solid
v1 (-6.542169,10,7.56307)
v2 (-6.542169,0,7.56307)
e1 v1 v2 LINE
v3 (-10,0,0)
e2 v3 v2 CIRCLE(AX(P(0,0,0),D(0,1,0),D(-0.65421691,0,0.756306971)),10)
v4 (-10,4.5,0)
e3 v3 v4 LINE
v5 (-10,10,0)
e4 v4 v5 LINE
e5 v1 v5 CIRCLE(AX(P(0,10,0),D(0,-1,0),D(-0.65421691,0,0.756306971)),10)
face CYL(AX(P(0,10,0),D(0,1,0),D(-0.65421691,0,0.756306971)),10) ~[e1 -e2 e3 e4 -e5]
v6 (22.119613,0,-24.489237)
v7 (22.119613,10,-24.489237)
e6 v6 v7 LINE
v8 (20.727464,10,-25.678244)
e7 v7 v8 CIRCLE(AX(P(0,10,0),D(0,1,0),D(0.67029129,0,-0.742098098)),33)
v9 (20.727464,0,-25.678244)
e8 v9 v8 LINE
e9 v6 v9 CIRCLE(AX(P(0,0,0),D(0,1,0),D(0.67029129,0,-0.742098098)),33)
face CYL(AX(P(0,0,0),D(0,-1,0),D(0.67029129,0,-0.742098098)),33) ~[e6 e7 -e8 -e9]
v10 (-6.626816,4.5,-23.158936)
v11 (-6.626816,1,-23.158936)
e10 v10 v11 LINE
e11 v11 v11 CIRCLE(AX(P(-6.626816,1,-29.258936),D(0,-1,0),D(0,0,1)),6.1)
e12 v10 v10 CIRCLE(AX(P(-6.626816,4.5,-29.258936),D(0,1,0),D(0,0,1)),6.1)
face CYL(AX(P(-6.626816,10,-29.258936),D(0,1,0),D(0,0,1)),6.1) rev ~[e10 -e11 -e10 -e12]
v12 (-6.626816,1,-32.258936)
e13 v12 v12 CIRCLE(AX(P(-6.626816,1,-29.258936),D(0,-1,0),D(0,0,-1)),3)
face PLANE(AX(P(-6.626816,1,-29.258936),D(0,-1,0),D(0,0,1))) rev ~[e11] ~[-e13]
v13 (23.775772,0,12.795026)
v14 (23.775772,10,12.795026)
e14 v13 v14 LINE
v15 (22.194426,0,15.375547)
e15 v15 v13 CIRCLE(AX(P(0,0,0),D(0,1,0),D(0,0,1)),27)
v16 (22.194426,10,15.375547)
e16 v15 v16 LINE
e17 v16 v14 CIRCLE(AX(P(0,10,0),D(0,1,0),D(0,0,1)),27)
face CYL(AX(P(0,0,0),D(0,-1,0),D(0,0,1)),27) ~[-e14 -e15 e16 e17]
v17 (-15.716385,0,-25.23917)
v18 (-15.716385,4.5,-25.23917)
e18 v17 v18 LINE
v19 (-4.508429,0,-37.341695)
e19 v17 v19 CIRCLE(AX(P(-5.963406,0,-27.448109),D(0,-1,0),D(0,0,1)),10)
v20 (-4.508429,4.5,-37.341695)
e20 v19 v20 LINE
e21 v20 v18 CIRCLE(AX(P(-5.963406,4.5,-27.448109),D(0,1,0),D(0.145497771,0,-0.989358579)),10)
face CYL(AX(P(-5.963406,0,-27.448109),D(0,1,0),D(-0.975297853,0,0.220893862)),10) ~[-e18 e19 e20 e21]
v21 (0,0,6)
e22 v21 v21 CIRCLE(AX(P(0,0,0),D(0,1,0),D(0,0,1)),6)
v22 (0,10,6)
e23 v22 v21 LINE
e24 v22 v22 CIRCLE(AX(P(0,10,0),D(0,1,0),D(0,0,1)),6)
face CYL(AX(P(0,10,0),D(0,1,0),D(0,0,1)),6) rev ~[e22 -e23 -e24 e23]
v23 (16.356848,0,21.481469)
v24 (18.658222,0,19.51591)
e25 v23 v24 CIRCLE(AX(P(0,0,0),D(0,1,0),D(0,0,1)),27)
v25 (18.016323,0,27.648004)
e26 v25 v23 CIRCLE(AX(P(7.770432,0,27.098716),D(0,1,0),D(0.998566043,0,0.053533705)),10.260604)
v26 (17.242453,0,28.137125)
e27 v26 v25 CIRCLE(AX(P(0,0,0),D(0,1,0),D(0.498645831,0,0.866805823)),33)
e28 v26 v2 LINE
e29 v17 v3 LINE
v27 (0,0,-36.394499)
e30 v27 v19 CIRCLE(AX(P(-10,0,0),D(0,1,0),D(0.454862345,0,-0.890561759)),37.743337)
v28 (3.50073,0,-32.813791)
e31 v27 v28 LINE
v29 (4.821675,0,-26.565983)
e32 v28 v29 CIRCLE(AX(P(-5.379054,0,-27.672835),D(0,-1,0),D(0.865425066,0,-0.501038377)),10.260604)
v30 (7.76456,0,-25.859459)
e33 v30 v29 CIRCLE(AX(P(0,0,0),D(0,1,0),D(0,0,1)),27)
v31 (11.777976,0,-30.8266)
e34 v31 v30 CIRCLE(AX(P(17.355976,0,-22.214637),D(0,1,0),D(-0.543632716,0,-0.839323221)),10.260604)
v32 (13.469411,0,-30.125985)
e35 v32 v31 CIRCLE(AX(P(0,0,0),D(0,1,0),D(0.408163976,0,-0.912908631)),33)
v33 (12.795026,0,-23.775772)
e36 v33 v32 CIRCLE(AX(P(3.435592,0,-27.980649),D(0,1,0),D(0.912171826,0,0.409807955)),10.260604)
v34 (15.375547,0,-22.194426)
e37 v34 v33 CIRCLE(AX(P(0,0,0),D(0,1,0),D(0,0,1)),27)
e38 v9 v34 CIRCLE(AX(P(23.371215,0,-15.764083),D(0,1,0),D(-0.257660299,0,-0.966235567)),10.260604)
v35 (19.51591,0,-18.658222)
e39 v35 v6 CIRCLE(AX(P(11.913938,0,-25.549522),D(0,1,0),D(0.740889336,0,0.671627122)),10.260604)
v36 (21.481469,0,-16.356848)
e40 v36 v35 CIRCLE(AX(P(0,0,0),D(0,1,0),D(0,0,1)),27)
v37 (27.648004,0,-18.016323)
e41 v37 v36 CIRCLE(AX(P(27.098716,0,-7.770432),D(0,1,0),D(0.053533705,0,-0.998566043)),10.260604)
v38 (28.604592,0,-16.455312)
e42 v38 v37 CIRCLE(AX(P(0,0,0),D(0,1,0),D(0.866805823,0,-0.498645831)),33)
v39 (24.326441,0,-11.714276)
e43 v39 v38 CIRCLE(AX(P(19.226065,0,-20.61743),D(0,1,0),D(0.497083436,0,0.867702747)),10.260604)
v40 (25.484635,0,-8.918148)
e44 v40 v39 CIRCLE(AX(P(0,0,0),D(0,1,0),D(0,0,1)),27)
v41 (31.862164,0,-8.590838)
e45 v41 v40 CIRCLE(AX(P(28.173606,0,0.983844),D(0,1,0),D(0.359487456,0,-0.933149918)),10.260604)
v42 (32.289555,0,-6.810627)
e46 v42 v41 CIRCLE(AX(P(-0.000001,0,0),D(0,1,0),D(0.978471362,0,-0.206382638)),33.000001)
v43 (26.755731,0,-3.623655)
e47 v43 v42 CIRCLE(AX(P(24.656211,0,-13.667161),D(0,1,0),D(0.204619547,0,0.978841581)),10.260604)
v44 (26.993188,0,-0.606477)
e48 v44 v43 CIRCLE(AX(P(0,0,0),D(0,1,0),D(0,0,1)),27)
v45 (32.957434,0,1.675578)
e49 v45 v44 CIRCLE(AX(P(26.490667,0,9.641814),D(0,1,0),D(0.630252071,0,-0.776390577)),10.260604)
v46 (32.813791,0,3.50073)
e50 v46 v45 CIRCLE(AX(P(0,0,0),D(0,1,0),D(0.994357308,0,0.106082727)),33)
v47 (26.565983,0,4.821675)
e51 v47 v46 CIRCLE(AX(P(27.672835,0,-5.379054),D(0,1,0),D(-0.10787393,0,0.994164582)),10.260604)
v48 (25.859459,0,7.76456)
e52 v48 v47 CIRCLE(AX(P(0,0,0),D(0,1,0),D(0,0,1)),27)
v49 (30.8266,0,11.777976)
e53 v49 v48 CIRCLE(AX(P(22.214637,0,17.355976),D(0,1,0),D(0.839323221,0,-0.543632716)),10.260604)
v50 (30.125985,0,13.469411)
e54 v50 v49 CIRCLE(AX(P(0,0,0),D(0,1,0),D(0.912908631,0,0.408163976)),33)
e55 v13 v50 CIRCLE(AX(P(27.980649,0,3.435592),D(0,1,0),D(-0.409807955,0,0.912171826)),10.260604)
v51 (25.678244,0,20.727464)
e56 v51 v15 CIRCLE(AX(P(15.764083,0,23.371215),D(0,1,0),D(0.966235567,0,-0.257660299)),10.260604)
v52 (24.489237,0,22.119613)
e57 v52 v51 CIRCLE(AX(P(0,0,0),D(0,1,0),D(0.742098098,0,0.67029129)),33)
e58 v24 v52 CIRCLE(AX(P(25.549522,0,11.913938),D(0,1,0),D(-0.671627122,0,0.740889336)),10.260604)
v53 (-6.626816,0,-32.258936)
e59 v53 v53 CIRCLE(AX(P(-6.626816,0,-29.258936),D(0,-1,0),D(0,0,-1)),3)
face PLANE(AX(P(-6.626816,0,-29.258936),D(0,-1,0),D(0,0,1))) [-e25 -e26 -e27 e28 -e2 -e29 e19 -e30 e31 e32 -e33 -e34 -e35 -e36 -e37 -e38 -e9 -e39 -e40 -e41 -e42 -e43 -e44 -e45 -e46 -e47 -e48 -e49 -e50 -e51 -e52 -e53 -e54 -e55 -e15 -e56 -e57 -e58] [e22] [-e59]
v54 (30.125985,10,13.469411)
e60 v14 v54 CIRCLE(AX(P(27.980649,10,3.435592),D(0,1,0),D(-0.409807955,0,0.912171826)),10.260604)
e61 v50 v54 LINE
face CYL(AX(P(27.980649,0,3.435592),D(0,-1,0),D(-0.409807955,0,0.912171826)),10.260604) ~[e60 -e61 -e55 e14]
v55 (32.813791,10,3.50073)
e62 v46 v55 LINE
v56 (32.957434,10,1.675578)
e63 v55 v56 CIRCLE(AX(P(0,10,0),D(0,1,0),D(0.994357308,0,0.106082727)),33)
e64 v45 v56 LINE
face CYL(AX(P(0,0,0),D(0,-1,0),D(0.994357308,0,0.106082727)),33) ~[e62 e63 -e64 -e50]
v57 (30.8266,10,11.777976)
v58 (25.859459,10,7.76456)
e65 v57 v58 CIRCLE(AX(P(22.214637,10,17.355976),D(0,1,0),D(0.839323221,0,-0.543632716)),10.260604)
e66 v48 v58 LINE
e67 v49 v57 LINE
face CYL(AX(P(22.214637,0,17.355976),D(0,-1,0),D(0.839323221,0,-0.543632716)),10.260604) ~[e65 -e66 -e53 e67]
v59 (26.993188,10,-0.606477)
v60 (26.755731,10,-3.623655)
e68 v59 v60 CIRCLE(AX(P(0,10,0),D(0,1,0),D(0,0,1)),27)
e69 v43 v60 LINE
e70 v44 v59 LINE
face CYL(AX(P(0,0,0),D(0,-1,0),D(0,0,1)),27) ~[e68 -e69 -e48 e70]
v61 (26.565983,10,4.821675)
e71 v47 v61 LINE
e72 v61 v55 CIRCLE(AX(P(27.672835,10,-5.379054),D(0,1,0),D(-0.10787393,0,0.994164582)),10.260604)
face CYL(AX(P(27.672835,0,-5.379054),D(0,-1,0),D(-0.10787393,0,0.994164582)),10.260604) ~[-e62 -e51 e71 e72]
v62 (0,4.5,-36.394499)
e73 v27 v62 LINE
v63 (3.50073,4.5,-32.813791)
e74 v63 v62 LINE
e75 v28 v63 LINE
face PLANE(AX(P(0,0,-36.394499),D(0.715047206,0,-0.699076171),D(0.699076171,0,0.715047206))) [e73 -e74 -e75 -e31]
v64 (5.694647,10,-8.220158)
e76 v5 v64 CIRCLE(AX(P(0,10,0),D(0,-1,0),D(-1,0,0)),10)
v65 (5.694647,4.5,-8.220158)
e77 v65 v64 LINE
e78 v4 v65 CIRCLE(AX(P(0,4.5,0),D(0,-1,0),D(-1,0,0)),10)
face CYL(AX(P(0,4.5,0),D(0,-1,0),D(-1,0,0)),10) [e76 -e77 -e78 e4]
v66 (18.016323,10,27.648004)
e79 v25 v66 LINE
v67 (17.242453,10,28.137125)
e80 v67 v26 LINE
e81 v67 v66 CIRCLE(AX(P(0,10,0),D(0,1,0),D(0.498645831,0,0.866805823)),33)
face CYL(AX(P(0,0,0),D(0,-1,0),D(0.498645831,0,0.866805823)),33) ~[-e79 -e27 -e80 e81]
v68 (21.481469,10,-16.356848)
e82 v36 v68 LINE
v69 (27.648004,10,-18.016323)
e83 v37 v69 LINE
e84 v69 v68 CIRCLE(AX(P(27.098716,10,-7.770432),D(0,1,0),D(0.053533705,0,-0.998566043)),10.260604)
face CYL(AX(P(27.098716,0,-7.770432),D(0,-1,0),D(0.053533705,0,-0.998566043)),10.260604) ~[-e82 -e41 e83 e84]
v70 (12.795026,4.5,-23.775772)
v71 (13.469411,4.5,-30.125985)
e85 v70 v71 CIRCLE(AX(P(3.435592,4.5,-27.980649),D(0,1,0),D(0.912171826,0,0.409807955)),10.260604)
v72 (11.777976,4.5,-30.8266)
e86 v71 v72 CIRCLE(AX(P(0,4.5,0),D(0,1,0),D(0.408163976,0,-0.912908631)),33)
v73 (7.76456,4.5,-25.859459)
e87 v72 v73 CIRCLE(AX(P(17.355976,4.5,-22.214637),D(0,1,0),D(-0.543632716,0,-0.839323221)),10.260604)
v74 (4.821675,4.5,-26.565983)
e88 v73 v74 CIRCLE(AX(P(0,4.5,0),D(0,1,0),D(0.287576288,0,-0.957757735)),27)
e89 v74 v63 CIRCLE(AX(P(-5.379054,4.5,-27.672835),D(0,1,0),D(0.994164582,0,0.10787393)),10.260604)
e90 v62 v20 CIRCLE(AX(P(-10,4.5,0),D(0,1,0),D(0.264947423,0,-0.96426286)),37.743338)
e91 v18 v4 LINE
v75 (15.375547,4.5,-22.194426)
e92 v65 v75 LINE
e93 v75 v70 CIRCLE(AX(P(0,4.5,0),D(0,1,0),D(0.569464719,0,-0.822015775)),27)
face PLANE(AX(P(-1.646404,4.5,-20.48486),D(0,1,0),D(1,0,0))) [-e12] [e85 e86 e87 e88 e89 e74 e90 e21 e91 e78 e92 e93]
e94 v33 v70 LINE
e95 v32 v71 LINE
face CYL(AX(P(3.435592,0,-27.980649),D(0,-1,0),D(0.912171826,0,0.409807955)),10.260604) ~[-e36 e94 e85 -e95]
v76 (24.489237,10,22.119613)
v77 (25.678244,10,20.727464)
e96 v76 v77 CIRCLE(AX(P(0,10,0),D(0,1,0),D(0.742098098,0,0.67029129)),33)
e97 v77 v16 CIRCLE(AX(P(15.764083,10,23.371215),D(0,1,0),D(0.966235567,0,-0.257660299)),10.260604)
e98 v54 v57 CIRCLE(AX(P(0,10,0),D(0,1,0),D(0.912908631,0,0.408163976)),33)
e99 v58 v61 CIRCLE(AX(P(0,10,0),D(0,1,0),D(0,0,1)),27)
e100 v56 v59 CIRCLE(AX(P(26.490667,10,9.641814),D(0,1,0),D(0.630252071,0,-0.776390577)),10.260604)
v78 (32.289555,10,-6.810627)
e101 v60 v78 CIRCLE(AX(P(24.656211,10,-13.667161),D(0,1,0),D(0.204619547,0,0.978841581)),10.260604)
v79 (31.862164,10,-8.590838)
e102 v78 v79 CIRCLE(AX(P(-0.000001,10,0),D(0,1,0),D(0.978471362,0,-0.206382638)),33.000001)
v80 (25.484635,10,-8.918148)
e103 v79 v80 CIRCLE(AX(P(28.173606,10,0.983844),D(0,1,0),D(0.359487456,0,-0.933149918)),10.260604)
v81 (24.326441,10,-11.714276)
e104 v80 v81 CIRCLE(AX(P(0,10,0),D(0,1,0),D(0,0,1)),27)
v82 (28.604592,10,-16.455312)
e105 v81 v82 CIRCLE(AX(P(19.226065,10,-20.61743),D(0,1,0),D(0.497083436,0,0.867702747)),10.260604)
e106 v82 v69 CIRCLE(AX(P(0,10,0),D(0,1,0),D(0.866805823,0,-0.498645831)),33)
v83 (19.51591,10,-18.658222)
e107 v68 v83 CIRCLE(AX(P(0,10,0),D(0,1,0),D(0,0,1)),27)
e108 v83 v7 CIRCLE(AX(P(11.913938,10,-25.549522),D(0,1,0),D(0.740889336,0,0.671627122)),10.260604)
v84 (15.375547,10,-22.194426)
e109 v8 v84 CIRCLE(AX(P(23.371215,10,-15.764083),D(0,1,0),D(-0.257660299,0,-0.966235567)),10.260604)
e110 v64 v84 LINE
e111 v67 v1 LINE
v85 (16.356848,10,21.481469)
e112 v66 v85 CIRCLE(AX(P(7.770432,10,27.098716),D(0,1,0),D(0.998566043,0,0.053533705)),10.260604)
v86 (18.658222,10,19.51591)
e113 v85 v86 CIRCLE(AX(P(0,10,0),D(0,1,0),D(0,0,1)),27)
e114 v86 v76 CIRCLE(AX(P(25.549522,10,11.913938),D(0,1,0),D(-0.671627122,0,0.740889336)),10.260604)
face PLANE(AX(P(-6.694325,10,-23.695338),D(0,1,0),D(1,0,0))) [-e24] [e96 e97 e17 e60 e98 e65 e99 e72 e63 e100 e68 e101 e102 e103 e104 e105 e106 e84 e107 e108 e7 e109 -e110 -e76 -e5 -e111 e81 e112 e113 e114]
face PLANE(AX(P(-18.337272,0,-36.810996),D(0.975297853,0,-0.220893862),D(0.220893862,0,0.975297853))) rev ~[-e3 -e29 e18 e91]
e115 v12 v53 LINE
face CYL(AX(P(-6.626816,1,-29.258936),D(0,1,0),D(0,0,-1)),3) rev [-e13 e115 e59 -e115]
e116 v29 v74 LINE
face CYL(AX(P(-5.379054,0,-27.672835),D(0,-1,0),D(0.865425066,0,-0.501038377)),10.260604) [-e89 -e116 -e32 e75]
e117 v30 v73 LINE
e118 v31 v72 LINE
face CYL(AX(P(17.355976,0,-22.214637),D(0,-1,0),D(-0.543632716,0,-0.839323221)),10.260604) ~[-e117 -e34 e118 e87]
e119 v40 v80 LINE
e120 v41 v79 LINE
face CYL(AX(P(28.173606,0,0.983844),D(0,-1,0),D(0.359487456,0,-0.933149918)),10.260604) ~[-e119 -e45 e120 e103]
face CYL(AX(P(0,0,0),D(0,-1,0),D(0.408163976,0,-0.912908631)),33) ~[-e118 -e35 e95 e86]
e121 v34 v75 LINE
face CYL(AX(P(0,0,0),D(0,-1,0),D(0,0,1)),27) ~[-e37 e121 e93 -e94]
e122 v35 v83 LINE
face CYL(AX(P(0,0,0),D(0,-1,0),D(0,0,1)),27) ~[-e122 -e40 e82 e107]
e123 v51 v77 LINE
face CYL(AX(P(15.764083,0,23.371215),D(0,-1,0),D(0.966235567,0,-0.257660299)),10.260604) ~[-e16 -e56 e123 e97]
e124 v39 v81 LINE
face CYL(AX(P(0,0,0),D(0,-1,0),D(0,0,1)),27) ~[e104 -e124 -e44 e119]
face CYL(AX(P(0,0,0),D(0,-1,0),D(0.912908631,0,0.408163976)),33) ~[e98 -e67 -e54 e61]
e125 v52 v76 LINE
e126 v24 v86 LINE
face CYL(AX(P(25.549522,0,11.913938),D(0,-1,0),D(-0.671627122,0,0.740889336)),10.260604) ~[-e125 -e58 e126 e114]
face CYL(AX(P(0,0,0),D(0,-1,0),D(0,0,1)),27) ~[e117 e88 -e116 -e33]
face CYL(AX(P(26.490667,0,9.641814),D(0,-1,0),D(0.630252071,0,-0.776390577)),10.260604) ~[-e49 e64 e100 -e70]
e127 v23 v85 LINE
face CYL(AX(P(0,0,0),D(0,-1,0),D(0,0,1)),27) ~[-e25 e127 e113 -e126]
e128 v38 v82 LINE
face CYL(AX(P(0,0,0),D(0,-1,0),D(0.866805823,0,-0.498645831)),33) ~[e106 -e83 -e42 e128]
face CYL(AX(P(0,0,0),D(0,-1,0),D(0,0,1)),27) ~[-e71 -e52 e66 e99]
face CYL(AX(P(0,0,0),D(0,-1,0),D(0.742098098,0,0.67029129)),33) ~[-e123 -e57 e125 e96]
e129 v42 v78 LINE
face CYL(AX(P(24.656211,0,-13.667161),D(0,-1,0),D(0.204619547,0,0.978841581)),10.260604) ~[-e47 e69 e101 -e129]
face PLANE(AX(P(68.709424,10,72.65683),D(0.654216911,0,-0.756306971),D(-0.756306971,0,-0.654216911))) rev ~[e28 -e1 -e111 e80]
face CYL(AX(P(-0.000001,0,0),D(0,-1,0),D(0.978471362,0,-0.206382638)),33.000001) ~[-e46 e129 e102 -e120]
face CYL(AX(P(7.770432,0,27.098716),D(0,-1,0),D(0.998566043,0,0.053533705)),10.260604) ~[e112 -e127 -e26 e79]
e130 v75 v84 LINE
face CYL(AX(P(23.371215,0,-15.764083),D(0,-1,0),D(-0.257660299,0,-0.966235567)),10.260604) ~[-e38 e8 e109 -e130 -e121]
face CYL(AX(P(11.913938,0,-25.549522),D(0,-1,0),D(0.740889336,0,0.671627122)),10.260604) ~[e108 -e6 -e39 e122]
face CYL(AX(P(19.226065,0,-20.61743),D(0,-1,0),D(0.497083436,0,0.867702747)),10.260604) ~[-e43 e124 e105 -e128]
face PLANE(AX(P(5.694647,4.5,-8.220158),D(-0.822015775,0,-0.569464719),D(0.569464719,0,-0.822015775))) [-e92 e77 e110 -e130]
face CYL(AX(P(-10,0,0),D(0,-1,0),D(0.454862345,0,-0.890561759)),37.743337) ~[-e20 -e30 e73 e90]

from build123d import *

# Parameters (mm, degrees)
SKETCH_1_R          = 27
EXTRUDE_2_DEPTH     = 10
EXTRUDE_START       = -10
EXTRUDE_3_DEPTH     = 10
CUT_EXTRUDE_2_DEPTH = 48.669538272
SKETCH_6_R          = 6
CUT_EXTRUDE_3_DEPTH = 10
EXTRUDE_5_DEPTH     = 10
SKETCH_10_R         = 6.1
CUT_EXTRUDE_5_DEPTH = 10
CUT_EXTRUDE_START   = -10
CUT_EXTRUDE_6_DEPTH = 10
FILLET_1_R          = 10
CUT_EXTRUDE_START_2 = -5.5
SKETCH_14_R         = 6.1
CUT_EXTRUDE_7_DEPTH = 5.5
EXTRUDE_START_2     = -1
SKETCH_15_R         = 6.1
SKETCH_15_R_2       = 3
EXTRUDE_6_DEPTH     = 1


with BuildPart() as part:
    # 草图1 → 凸台-拉伸2 (new body)
    with BuildSketch(Plane(origin=(0, 0, 0), x_dir=(1, 0, 0), z_dir=(0, 1, 0))):
        with Locations(Location((0, 0, 0), (0, 0, 270))):
            Circle(SKETCH_1_R)
    extrude(amount=EXTRUDE_2_DEPTH)

    # 草图3 → 凸台-拉伸3 (add)
    with BuildSketch(Plane(origin=(0, 10, 0), x_dir=(1, 0, 0), z_dir=(0, 1, 0)).offset(EXTRUDE_START)):
        with BuildLine():
            ThreePointArc((-3.623654542, 26.755730746), (-4.775668185, 29.776890365), (-6.810627033, 32.289554959))
            ThreePointArc((-6.810627033, 32.289554959), (-7.703697007, 32.088207373), (-8.590838072, 31.862164101))
            ThreePointArc((-8.590838072, 31.862164101), (-9.263273827, 28.699511571), (-8.918147734, 25.484635391))
            ThreePointArc((-8.918147734, 25.484635391), (-6.303024824, 26.253987851), (-3.623654542, 26.755730746))
        make_face()
        with BuildLine():
            ThreePointArc((-11.714275763, 24.326441239), (-13.743495509, 26.843742988), (-16.455312443, 28.604592156))
            ThreePointArc((-16.455312443, 28.604592156), (-17.242452636, 28.137125424), (-18.016322714, 27.648003832))
            ThreePointArc((-18.016322714, 27.648003832), (-17.678533741, 24.432348458), (-16.356847947, 21.481469346))
            ThreePointArc((-16.356847947, 21.481469346), (-14.107461247, 23.021284438), (-11.714275763, 24.326441239))
        make_face()
        with BuildLine():
            ThreePointArc((-18.658222053, 19.515910171), (-21.366013737, 21.282943016), (-24.48923722, 22.119612574))
            ThreePointArc((-24.48923722, 22.119612574), (-25.093396865, 21.431785595), (-25.678244161, 20.727464312))
            ThreePointArc((-25.678244161, 20.727464312), (-24.363295599, 17.773576848), (-22.194425918, 15.375547411))
            ThreePointArc((-22.194425918, 15.375547411), (-20.530961071, 17.535097305), (-18.658222053, 19.515910171))
        make_face()
        with BuildLine():
            ThreePointArc((-23.77577157, 12.79502584), (-26.897077674, 13.638820294), (-30.125984831, 13.469411196))
            ThreePointArc((-30.125984831, 13.469411196), (-30.488024573, 12.628553268), (-30.826600159, 11.777976169))
            ThreePointArc((-30.826600159, 11.777976169), (-28.663208335, 9.3750037), (-25.859458842, 7.764559768))
            ThreePointArc((-25.859458842, 7.764559768), (-24.944747378, 10.332452674), (-23.77577157, 12.79502584))
        make_face()
        with BuildLine():
            ThreePointArc((-26.56598291, 4.821675232), (-29.795268245, 4.659634815), (-32.813791147, 3.500730003))
            ThreePointArc((-32.813791147, 3.500730003), (-32.898272013, 2.589150159), (-32.957433752, 1.675577656))
            ThreePointArc((-32.957433752, 1.675577656), (-30.15736653, 0.05873987), (-26.993187762, -0.606477084))
            ThreePointArc((-26.993187762, -0.606477084), (-26.916768011, 2.118395585), (-26.56598291, 4.821675232))
        make_face()
        with BuildLine():
            ThreePointArc((-32.289554959, -6.810627033), (-32.088207373, -7.703697007), (-31.862164101, -8.590838072))
            ThreePointArc((-31.862164101, -8.590838072), (-28.699511571, -9.263273827), (-25.484635391, -8.918147734))
            ThreePointArc((-25.484635391, -8.918147734), (-26.253987851, -6.303024824), (-26.755730746, -3.623654542))
            ThreePointArc((-26.755730746, -3.623654542), (-29.776890365, -4.775668185), (-32.289554959, -6.810627033))
        make_face()
        with BuildLine():
            ThreePointArc((-28.604592156, -16.455312443), (-28.137125424, -17.242452636), (-27.648003832, -18.016322714))
            ThreePointArc((-27.648003832, -18.016322714), (-24.432348458, -17.678533741), (-21.481469346, -16.356847947))
            ThreePointArc((-21.481469346, -16.356847947), (-23.021284438, -14.107461247), (-24.326441239, -11.714275763))
            ThreePointArc((-24.326441239, -11.714275763), (-26.843742988, -13.743495509), (-28.604592156, -16.455312443))
        make_face()
        with BuildLine():
            ThreePointArc((-22.119612574, -24.48923722), (-21.431785595, -25.093396865), (-20.727464312, -25.678244161))
            ThreePointArc((-20.727464312, -25.678244161), (-17.773576848, -24.363295599), (-15.375547411, -22.194425918))
            ThreePointArc((-15.375547411, -22.194425918), (-17.535097305, -20.530961071), (-19.515910171, -18.658222053))
            ThreePointArc((-19.515910171, -18.658222053), (-21.282943016, -21.366013737), (-22.119612574, -24.48923722))
        make_face()
        with BuildLine():
            ThreePointArc((-13.469411196, -30.125984831), (-12.628553268, -30.488024573), (-11.777976169, -30.826600159))
            ThreePointArc((-11.777976169, -30.826600159), (-9.3750037, -28.663208335), (-7.764559768, -25.859458842))
            ThreePointArc((-7.764559768, -25.859458842), (-10.332452674, -24.944747378), (-12.79502584, -23.77577157))
            ThreePointArc((-12.79502584, -23.77577157), (-13.638820294, -26.897077674), (-13.469411196, -30.125984831))
        make_face()
        with BuildLine():
            ThreePointArc((-3.500730003, -32.813791147), (-2.589150159, -32.898272013), (-1.675577656, -32.957433752))
            ThreePointArc((-1.675577656, -32.957433752), (-0.05873987, -30.15736653), (0.606477084, -26.993187762))
            ThreePointArc((0.606477084, -26.993187762), (-2.118395585, -26.916768011), (-4.821675232, -26.56598291))
            ThreePointArc((-4.821675232, -26.56598291), (-4.659634815, -29.795268245), (-3.500730003, -32.813791147))
        make_face()
        with BuildLine():
            ThreePointArc((6.810627033, -32.289554959), (7.703697007, -32.088207373), (8.590838072, -31.862164101))
            ThreePointArc((8.590838072, -31.862164101), (9.263273827, -28.699511571), (8.918147734, -25.484635391))
            ThreePointArc((8.918147734, -25.484635391), (6.303024824, -26.253987851), (3.623654542, -26.755730746))
            ThreePointArc((3.623654542, -26.755730746), (4.775668185, -29.776890365), (6.810627033, -32.289554959))
        make_face()
        with BuildLine():
            ThreePointArc((16.455312443, -28.604592156), (17.242452636, -28.137125424), (18.016322714, -27.648003832))
            ThreePointArc((18.016322714, -27.648003832), (17.678533741, -24.432348458), (16.356847947, -21.481469346))
            ThreePointArc((16.356847947, -21.481469346), (14.107461247, -23.021284438), (11.714275763, -24.326441239))
            ThreePointArc((11.714275763, -24.326441239), (13.743495509, -26.843742988), (16.455312443, -28.604592156))
        make_face()
        with BuildLine():
            ThreePointArc((24.48923722, -22.119612574), (25.093396865, -21.431785595), (25.678244161, -20.727464312))
            ThreePointArc((25.678244161, -20.727464312), (24.363295599, -17.773576848), (22.194425918, -15.375547411))
            ThreePointArc((22.194425918, -15.375547411), (20.530961071, -17.535097305), (18.658222053, -19.515910171))
            ThreePointArc((18.658222053, -19.515910171), (21.366013737, -21.282943016), (24.48923722, -22.119612574))
        make_face()
        with BuildLine():
            ThreePointArc((30.125984831, -13.469411196), (30.488024573, -12.628553268), (30.826600159, -11.777976169))
            ThreePointArc((30.826600159, -11.777976169), (28.663208335, -9.3750037), (25.859458842, -7.764559768))
            ThreePointArc((25.859458842, -7.764559768), (24.944747378, -10.332452674), (23.77577157, -12.79502584))
            ThreePointArc((23.77577157, -12.79502584), (26.897077674, -13.638820294), (30.125984831, -13.469411196))
        make_face()
        with BuildLine():
            ThreePointArc((32.813791147, -3.500730003), (32.898272013, -2.589150159), (32.957433752, -1.675577656))
            ThreePointArc((32.957433752, -1.675577656), (30.15736653, -0.05873987), (26.993187762, 0.606477084))
            ThreePointArc((26.993187762, 0.606477084), (26.998296887, 0.303257671), (27, 0))
            ThreePointArc((27, 0), (26.891276825, -2.420584789), (26.56598291, -4.821675232))
            ThreePointArc((26.56598291, -4.821675232), (29.795268245, -4.659634815), (32.813791147, -3.500730003))
        make_face()
        with BuildLine():
            ThreePointArc((26.755730746, 3.623654542), (29.776890365, 4.775668185), (32.289554959, 6.810627033))
            ThreePointArc((32.289554959, 6.810627033), (32.088207373, 7.703697007), (31.862164101, 8.590838072))
            ThreePointArc((31.862164101, 8.590838072), (28.699511571, 9.263273827), (25.484635391, 8.918147734))
            ThreePointArc((25.484635391, 8.918147734), (26.253987851, 6.303024824), (26.755730746, 3.623654542))
        make_face()
        with BuildLine():
            ThreePointArc((24.326441239, 11.714275763), (26.843742988, 13.743495509), (28.604592156, 16.455312443))
            ThreePointArc((28.604592156, 16.455312443), (28.137125424, 17.242452636), (27.648003832, 18.016322714))
            ThreePointArc((27.648003832, 18.016322714), (24.432348458, 17.678533741), (21.481469346, 16.356847947))
            ThreePointArc((21.481469346, 16.356847947), (23.021284438, 14.107461247), (24.326441239, 11.714275763))
        make_face()
        with BuildLine():
            ThreePointArc((19.515910171, 18.658222053), (21.282943016, 21.366013737), (22.119612574, 24.48923722))
            ThreePointArc((22.119612574, 24.48923722), (21.431785595, 25.093396865), (20.727464312, 25.678244161))
            ThreePointArc((20.727464312, 25.678244161), (17.773576848, 24.363295599), (15.375547411, 22.194425918))
            ThreePointArc((15.375547411, 22.194425918), (17.535097305, 20.530961071), (19.515910171, 18.658222053))
        make_face()
        with BuildLine():
            ThreePointArc((12.79502584, 23.77577157), (13.638820294, 26.897077674), (13.469411196, 30.125984831))
            ThreePointArc((13.469411196, 30.125984831), (12.628553268, 30.488024573), (11.777976169, 30.826600159))
            ThreePointArc((11.777976169, 30.826600159), (9.3750037, 28.663208335), (7.764559768, 25.859458842))
            ThreePointArc((7.764559768, 25.859458842), (10.332452674, 24.944747378), (12.79502584, 23.77577157))
        make_face()
        with BuildLine():
            ThreePointArc((4.821675232, 26.56598291), (4.659634815, 29.795268245), (3.500730003, 32.813791147))
            ThreePointArc((3.500730003, 32.813791147), (2.589150159, 32.898272013), (1.675577656, 32.957433752))
            ThreePointArc((1.675577656, 32.957433752), (0.05873987, 30.15736653), (-0.606477084, 26.993187762))
            ThreePointArc((-0.606477084, 26.993187762), (2.118395585, 26.916768011), (4.821675232, 26.56598291))
        make_face()
    extrude(amount=EXTRUDE_3_DEPTH)

    # 草图4 → 切除-拉伸2 (cut, through all)
    with BuildSketch(Plane(origin=(0, 10, 0), x_dir=(1, 0, 0), z_dir=(0, 1, 0))):
        with BuildLine():
            Line((68.70942434, -72.656830422), (-6.542169106, -7.563069707))
            ThreePointArc((-6.542169106, -7.563069707), (-9.614988938, -2.748088014), (-9.550796477, 2.963492306))
            Line((-9.550796477, 2.963492306), (-2.118395585, 26.916768011))
            Line((-2.118395585, 26.916768011), (19.935579671, 97.992717399))
            ThreePointArc((19.935579671, 97.992717399), (-96.149889375, -27.480880138), (68.70942434, -72.656830422))
        make_face()
    extrude(amount=-CUT_EXTRUDE_2_DEPTH, mode=Mode.SUBTRACT)

    # 草图6 → 切除-拉伸3 (cut)
    with BuildSketch(Plane(origin=(0, 10, 0), x_dir=(1, 0, 0), z_dir=(0, 1, 0))):
        with Locations(Location((0, 0, 0), (0, 0, 270))):
            Circle(SKETCH_6_R)
    extrude(amount=-CUT_EXTRUDE_3_DEPTH, mode=Mode.SUBTRACT)

    # 草图9 → 凸台-拉伸5 (add)
    with BuildSketch(Plane(origin=(0, 10, 0), x_dir=(1, 0, 0), z_dir=(0, 1, 0)).offset(EXTRUDE_START)):
        with BuildLine():
            Line((-18.337271569, 36.810995995), (-10, 0))
            ThreePointArc((-10, 0), (-9.887061363, 1.49867195), (-9.550796477, 2.963492306))
            Line((-9.550796477, 2.963492306), (-2.118395585, 26.916768011))
            ThreePointArc((-2.118395585, 26.916768011), (-1.362972032, 26.965576338), (-0.606477084, 26.993187762))
            ThreePointArc((-0.606477084, 26.993187762), (0.05873987, 30.15736653), (1.675577656, 32.957433752))
            ThreePointArc((1.675577656, 32.957433752), (2.589150159, 32.898272013), (3.500730003, 32.813791147))
            ThreePointArc((3.500730003, 32.813791147), (4.659634815, 29.795268245), (4.821675232, 26.56598291))
            Line((4.821675232, 26.56598291), (7.168022985, 33.612773021))
            ThreePointArc((7.168022985, 33.612773021), (-5.303969741, 37.450057719), (-18.337271569, 36.810995995))
        make_face()
    extrude(amount=EXTRUDE_5_DEPTH)

    # 草图10 → 切除-拉伸5 (cut)
    with BuildSketch(Plane(origin=(0, 10, 0), x_dir=(1, 0, 0), z_dir=(0, 1, 0))):
        with Locations(Location((-6.626815852, 29.258935587, 0), (0, 0, 270))):
            Circle(SKETCH_10_R)
    extrude(amount=-CUT_EXTRUDE_5_DEPTH, mode=Mode.SUBTRACT)

    # 草图11 → 切除-拉伸6 (cut)
    with BuildSketch(Plane(origin=(0, 10, 0), x_dir=(1, 0, 0), z_dir=(0, 1, 0)).offset(CUT_EXTRUDE_START)):
        with BuildLine():
            Line((0, 36.394498532), (3.500730003, 32.813791147))
            ThreePointArc((3.500730003, 32.813791147), (4.659634815, 29.795268245), (4.821675232, 26.56598291))
            Line((4.821675232, 26.56598291), (7.168022985, 33.612773021))
            ThreePointArc((7.168022985, 33.612773021), (3.655030847, 35.186640305), (0, 36.394498532))
        make_face()
    extrude(amount=CUT_EXTRUDE_6_DEPTH, mode=Mode.SUBTRACT)

    # 圆角1
    fillet_1_edges = [part.edges().sort_by_distance(p)[0] for p in [
        (-18.337271569, 5, -36.810995995),
    ]]
    fillet(fillet_1_edges, radius=FILLET_1_R)

    # 草图14 → 切除-拉伸7 (cut)
    with BuildSketch(Plane(origin=(0, 10, 0), x_dir=(1, 0, 0), z_dir=(0, 1, 0)).offset(CUT_EXTRUDE_START_2)):
        with BuildLine():
            Line((5.694647189, 8.220157747), (15.375547411, 22.194425918))
            ThreePointArc((15.375547411, 22.194425918), (14.107461247, 23.021284438), (12.79502584, 23.77577157))
            ThreePointArc((12.79502584, 23.77577157), (13.638820294, 26.897077674), (13.469411196, 30.125984831))
            ThreePointArc((13.469411196, 30.125984831), (12.628553268, 30.488024573), (11.777976169, 30.826600159))
            ThreePointArc((11.777976169, 30.826600159), (9.3750037, 28.663208335), (7.764559768, 25.859458842))
            ThreePointArc((7.764559768, 25.859458842), (6.303024824, 26.253987851), (4.821675232, 26.56598291))
            ThreePointArc((4.821675232, 26.56598291), (4.659634815, 29.795268245), (3.500730003, 32.813791147))
            Line((3.500730003, 32.813791147), (0, 36.394498532))
            ThreePointArc((0, 36.394498532), (-2.23974925, 36.936946702), (-4.508428545, 37.341694744))
            ThreePointArc((-4.508428545, 37.341694744), (-13.300434171, 34.242814336), (-15.716384779, 25.239170332))
            Line((-15.716384779, 25.239170332), (-10, 0))
            ThreePointArc((-10, 0), (-4.639694392, 8.858512062), (5.694647189, 8.220157747))
        make_face()
        with Locations(Location((-6.626815852, 29.258935587, 0), (0, 0, 270))):
            Circle(SKETCH_14_R, mode=Mode.SUBTRACT)
    extrude(amount=CUT_EXTRUDE_7_DEPTH, mode=Mode.SUBTRACT)

    # 草图15 → 凸台-拉伸6 (add)
    with BuildSketch(Plane.XZ.offset(EXTRUDE_START_2)):
        with Locations(Location((-6.626815852, -29.258935587, 0), (0, 0, 90))):
            Circle(SKETCH_15_R)
        with Locations(Location((-6.626815852, -29.258935587, 0), (0, 0, 270))):
            Circle(SKETCH_15_R_2, mode=Mode.SUBTRACT)
    extrude(amount=EXTRUDE_6_DEPTH)


solid = part.part
